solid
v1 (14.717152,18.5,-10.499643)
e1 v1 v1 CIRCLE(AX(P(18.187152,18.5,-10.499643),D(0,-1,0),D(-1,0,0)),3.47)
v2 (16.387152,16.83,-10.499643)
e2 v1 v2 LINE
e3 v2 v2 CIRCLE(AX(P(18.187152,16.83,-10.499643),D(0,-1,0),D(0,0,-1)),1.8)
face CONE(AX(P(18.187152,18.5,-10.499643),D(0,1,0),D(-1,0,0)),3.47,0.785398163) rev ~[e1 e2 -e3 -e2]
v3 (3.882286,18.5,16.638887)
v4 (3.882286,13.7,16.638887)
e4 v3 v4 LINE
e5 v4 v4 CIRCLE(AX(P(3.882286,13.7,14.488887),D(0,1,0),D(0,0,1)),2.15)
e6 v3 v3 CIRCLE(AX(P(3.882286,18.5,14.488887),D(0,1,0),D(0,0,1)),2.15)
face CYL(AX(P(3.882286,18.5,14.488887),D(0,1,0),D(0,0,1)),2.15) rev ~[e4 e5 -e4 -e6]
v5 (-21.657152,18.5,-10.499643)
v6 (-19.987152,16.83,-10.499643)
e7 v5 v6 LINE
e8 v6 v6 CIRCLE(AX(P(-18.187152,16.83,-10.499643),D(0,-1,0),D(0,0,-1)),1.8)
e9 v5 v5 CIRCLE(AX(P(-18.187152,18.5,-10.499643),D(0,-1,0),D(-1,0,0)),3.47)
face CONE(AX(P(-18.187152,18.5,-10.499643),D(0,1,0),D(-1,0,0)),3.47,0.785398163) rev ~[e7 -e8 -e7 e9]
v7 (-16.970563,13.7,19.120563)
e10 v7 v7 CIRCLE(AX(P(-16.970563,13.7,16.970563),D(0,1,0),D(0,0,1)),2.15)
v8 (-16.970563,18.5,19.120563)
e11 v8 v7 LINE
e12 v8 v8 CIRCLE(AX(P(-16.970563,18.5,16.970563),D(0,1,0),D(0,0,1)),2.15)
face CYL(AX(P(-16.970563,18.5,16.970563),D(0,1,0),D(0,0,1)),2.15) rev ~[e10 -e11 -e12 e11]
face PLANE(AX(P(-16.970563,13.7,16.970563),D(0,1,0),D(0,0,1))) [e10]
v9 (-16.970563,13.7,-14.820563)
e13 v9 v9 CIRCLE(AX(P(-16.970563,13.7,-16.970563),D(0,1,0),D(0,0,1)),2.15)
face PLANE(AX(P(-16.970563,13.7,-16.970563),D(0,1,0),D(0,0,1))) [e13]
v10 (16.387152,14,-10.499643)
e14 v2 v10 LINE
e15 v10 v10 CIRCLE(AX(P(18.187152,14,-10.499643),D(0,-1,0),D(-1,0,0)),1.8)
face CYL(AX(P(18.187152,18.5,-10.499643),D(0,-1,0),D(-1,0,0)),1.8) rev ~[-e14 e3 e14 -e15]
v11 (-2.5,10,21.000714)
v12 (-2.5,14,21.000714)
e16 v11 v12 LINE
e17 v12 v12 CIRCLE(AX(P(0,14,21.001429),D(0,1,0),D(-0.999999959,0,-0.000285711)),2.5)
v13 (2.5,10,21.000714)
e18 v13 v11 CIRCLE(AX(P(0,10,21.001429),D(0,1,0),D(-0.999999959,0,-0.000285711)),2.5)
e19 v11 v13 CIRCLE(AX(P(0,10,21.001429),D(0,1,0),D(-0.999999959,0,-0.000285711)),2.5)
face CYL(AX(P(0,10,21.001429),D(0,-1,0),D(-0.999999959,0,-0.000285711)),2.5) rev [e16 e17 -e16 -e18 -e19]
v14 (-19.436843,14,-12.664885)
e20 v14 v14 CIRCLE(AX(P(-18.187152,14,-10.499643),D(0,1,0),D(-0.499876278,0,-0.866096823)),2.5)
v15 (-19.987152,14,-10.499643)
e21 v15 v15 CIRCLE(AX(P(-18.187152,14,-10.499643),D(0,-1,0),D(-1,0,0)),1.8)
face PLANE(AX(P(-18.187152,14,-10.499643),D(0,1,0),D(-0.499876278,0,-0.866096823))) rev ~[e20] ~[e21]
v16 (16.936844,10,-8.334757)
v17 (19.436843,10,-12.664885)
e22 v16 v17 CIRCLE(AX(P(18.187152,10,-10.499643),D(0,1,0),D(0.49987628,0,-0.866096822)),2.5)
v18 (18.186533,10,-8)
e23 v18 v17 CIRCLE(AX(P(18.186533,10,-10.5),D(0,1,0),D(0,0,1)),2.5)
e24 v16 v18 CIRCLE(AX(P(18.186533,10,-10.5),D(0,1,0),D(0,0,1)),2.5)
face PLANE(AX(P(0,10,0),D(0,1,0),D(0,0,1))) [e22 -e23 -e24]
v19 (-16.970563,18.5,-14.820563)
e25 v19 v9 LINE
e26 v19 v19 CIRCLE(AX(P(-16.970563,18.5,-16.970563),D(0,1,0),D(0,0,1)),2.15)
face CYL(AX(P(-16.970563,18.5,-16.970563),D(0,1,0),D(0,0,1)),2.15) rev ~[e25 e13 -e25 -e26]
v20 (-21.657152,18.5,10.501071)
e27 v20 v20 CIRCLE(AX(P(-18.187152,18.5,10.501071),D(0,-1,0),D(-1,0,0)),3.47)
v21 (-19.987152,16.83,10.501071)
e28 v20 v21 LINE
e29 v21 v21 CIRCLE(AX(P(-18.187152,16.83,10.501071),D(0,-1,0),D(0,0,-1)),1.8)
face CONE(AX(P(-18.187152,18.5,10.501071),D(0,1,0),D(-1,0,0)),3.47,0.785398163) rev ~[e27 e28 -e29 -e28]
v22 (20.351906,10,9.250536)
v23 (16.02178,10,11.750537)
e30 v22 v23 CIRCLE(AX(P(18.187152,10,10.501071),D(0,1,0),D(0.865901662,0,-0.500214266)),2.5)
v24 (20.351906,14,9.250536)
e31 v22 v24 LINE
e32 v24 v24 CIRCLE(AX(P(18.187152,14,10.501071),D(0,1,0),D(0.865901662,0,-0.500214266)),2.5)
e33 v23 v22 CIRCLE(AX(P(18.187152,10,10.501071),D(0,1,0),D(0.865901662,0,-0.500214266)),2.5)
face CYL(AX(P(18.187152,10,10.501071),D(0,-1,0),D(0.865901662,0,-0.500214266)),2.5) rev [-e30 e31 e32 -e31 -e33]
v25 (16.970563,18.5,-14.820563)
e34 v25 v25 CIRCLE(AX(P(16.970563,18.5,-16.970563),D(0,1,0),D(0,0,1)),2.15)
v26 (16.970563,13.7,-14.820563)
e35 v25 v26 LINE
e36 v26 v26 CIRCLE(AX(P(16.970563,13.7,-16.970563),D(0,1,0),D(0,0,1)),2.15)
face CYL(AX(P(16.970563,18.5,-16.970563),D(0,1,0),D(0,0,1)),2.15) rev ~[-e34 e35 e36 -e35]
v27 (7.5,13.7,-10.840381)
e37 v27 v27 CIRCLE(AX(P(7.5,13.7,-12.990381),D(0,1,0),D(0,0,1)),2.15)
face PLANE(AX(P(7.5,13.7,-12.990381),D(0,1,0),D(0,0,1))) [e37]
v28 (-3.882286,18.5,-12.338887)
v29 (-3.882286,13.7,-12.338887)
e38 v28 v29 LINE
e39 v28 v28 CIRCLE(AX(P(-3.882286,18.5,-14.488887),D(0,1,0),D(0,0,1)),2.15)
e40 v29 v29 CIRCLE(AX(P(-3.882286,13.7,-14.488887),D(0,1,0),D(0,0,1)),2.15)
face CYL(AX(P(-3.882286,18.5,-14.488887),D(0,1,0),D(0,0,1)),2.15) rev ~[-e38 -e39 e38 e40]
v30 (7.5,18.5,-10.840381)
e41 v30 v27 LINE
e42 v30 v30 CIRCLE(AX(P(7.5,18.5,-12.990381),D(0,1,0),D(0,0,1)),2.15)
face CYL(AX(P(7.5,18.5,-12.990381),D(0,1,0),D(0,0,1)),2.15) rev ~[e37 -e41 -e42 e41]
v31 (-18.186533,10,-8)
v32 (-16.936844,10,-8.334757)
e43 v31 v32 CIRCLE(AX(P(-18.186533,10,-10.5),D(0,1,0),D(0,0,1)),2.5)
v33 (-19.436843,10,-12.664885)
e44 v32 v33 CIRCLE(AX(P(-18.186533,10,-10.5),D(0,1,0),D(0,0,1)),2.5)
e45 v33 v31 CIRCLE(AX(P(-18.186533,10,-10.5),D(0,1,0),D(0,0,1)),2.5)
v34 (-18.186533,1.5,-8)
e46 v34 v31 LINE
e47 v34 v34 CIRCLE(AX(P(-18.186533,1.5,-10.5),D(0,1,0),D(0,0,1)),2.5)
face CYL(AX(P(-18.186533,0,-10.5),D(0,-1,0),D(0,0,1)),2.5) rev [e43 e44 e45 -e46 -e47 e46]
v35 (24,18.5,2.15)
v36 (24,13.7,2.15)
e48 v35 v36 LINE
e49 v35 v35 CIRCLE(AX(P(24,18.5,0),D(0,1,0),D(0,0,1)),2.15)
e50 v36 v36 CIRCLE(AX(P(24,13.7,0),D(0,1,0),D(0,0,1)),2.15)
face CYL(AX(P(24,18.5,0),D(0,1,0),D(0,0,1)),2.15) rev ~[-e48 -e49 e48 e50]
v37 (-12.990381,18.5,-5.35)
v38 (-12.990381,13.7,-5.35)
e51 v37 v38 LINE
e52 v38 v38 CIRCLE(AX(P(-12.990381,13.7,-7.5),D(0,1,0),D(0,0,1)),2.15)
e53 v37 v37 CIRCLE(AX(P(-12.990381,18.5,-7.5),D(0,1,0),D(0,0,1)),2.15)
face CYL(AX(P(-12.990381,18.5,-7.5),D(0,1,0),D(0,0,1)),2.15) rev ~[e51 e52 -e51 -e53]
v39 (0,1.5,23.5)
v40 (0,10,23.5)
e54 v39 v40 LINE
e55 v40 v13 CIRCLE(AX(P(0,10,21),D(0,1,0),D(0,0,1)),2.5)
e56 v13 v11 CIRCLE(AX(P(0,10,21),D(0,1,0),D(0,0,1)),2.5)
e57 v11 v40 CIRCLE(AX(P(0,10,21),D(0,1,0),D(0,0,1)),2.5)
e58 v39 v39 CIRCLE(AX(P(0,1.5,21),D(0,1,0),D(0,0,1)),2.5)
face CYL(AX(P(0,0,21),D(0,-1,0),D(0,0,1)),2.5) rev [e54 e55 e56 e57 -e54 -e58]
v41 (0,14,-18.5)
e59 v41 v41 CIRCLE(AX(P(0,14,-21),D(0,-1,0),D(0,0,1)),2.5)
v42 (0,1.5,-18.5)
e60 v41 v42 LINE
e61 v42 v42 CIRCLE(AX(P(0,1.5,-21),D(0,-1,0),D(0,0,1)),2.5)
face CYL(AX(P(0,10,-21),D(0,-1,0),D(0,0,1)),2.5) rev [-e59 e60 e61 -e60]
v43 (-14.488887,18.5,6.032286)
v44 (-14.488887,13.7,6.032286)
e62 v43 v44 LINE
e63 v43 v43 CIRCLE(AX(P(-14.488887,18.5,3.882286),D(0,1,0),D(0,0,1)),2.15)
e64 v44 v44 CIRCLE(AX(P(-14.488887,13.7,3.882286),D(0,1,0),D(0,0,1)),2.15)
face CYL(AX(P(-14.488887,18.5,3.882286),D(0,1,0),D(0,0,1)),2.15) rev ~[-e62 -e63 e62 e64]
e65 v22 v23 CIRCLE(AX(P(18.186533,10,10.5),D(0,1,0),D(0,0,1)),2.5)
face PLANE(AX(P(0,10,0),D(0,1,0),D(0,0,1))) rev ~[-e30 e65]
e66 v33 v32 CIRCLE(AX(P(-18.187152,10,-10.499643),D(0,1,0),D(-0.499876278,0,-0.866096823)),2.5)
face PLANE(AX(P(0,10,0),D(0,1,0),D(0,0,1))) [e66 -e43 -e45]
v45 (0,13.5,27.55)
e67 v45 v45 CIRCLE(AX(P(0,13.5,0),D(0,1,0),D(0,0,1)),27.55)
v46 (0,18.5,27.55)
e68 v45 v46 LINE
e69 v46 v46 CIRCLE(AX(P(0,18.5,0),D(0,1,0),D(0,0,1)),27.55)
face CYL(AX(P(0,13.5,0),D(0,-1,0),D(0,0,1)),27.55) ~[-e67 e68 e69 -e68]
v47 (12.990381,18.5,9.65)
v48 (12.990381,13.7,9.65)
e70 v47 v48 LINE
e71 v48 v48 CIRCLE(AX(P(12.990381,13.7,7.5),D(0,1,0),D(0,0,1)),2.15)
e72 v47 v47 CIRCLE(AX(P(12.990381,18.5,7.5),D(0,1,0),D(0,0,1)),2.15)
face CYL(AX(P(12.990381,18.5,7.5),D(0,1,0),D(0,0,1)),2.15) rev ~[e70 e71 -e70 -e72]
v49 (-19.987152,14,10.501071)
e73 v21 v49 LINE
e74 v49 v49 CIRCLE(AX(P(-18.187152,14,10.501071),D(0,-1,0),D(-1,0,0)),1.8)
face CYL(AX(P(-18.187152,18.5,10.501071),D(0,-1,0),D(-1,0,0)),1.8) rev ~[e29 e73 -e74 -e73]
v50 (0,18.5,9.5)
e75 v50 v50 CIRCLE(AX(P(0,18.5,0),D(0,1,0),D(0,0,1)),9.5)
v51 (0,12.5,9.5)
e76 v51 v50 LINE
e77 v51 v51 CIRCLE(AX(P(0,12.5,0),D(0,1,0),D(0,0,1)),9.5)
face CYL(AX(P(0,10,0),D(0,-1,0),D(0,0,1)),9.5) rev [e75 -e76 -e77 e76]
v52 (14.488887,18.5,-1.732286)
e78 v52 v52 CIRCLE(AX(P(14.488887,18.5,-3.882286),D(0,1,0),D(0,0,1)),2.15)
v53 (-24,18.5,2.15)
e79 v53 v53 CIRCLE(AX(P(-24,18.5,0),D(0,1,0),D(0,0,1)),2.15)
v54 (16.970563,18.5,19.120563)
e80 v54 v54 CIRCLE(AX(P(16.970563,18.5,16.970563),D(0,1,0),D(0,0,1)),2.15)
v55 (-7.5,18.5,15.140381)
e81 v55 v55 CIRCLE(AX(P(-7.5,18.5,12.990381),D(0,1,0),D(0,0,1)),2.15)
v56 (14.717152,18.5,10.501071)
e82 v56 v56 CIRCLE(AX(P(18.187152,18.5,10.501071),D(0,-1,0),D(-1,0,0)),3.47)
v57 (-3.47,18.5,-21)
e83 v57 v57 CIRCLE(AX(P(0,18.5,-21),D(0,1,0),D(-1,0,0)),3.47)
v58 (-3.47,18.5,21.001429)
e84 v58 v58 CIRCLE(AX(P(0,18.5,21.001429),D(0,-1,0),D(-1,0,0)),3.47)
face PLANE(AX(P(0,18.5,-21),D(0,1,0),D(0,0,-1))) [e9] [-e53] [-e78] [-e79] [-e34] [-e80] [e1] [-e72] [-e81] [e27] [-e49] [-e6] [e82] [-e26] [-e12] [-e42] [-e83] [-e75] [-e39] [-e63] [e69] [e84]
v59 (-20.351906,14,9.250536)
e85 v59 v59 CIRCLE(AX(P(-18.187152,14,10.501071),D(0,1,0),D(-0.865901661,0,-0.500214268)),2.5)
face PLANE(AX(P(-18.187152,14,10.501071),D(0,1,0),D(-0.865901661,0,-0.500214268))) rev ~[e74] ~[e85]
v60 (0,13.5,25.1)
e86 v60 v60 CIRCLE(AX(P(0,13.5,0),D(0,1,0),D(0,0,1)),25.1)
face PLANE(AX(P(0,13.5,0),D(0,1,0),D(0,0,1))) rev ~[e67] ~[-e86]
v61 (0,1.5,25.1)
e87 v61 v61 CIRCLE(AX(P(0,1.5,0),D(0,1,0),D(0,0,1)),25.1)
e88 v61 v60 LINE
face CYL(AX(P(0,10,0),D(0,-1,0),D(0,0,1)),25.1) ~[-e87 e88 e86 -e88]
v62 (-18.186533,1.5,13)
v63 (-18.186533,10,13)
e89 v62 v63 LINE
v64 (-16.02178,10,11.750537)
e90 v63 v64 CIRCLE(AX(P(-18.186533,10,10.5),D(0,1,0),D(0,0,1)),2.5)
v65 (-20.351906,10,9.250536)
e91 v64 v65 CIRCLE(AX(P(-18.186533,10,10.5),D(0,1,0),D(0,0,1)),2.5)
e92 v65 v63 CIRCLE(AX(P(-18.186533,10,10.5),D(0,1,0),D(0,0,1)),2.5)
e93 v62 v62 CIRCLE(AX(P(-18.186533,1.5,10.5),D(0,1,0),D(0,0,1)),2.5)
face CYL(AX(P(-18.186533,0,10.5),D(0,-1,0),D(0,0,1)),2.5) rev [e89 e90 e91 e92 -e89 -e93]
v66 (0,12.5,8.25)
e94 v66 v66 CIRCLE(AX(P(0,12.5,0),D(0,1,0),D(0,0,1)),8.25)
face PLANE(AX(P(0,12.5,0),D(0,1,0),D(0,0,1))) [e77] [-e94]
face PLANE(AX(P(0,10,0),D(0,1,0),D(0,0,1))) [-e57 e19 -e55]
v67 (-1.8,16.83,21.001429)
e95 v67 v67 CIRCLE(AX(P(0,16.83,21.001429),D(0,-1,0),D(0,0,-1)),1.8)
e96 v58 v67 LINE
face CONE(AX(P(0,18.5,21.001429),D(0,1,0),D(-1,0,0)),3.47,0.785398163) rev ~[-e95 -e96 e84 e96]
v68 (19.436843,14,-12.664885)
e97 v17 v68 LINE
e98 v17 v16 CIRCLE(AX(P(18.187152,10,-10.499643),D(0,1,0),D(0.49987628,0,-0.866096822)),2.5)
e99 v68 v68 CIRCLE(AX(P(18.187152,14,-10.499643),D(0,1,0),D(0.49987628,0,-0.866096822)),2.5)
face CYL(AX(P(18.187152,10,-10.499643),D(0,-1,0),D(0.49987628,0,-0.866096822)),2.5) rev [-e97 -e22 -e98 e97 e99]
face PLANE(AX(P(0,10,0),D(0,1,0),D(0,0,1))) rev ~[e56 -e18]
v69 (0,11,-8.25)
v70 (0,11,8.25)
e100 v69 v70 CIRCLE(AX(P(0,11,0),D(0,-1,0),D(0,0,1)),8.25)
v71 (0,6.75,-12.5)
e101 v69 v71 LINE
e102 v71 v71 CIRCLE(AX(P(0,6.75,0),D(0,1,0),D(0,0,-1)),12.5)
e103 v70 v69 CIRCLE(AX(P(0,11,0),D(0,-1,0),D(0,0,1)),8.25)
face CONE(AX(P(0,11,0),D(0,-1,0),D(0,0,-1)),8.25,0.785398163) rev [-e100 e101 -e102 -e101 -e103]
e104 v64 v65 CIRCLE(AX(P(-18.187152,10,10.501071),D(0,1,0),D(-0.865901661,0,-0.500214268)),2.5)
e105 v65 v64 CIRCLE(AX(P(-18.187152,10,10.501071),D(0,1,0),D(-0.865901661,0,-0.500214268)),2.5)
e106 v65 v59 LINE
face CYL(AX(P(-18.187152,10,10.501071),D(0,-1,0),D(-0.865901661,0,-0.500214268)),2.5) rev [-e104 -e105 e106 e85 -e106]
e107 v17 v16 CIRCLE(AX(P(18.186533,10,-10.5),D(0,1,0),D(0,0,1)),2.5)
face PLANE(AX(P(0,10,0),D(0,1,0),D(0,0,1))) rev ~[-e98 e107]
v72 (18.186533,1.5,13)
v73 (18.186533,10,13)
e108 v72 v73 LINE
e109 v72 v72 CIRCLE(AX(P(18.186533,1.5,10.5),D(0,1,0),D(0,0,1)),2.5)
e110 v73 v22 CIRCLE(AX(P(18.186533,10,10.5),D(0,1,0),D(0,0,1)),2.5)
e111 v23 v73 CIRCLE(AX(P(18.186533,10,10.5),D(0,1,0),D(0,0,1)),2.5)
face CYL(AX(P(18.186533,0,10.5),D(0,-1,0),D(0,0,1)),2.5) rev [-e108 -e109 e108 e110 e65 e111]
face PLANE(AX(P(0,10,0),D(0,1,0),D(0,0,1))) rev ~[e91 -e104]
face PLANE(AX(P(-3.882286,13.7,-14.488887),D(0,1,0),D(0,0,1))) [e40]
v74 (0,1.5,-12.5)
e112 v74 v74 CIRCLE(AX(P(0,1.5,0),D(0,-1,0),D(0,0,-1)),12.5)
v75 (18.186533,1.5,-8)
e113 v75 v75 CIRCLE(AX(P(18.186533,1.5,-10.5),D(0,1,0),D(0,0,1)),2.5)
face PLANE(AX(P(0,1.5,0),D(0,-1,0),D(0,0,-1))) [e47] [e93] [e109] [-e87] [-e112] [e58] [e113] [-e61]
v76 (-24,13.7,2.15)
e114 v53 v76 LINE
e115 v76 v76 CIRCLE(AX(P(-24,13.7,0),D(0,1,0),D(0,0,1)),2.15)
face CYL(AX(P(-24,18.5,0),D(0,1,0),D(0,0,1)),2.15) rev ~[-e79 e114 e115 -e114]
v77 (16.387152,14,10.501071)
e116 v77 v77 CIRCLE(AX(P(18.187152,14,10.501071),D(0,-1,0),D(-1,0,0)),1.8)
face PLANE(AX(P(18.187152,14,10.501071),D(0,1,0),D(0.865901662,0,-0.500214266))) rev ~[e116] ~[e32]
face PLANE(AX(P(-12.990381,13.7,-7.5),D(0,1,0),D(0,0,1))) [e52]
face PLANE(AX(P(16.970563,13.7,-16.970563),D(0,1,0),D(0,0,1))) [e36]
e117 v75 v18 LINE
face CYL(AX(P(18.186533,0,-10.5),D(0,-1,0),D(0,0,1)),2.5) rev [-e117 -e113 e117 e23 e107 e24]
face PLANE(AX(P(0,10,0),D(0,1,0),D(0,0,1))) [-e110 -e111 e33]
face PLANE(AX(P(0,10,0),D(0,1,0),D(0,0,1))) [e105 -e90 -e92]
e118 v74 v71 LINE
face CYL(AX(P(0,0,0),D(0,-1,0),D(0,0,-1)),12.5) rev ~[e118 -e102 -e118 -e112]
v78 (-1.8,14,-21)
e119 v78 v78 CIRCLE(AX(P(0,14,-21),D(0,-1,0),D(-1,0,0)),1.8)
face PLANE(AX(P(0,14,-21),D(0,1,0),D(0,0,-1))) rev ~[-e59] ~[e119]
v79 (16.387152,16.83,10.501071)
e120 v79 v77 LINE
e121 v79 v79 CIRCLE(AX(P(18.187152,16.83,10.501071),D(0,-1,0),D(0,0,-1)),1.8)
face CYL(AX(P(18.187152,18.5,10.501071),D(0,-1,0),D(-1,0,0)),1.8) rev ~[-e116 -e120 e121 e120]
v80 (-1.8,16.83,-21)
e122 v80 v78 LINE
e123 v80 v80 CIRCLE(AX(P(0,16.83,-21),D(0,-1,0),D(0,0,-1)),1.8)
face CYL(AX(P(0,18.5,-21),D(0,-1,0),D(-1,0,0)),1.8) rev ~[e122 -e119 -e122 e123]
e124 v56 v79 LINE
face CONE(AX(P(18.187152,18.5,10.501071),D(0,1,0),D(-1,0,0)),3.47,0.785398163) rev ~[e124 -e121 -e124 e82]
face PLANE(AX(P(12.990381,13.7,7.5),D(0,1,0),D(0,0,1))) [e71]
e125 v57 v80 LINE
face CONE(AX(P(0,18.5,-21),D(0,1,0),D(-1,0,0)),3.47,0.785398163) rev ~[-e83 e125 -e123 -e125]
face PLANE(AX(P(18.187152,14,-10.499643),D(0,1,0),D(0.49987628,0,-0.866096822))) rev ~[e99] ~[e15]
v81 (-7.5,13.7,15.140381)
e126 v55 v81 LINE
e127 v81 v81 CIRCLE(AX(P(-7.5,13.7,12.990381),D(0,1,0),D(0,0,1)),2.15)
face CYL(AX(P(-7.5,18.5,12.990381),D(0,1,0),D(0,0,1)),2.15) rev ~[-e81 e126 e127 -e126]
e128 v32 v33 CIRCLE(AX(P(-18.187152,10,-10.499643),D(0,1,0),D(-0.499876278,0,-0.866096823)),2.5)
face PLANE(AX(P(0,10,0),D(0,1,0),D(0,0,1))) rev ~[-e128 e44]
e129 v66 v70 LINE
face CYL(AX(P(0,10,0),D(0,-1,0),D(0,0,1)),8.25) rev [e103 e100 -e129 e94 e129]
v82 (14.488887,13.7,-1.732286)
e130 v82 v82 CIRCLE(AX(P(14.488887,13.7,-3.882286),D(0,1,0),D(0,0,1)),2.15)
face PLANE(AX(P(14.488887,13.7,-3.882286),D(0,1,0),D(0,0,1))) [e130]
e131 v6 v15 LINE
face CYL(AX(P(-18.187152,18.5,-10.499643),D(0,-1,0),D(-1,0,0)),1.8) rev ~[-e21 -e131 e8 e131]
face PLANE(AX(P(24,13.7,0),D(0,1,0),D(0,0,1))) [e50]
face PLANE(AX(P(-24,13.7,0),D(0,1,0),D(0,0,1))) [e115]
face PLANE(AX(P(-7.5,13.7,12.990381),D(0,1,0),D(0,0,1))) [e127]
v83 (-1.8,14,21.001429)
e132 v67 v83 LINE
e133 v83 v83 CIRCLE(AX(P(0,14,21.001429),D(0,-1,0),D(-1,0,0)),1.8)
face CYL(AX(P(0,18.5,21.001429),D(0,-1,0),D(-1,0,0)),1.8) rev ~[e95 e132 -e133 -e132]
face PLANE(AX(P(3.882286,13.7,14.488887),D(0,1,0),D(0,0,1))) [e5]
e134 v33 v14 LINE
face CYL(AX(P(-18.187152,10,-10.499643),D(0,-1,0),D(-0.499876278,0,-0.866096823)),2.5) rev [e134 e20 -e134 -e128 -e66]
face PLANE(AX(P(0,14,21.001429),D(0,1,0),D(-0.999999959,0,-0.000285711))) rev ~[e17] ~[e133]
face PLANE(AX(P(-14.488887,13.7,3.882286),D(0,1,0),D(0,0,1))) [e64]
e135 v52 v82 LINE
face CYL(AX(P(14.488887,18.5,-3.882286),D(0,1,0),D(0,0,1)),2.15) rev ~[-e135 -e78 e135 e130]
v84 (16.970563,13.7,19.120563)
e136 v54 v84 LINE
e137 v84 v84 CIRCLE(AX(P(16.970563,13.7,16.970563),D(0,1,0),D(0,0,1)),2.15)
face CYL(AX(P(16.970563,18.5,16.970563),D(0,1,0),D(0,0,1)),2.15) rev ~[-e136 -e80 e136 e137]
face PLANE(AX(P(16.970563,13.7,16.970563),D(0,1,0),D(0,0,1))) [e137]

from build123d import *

# Parameters (mm, degrees)
SKETCH1_R                                            = 25.1
SKETCH1_R_2                                          = 2.5
SKETCH1_R_3                                          = 8.25
BOSS_EXTRUDE1_DEPTH                                  = 10
SKETCH2_R                                            = 15.5
SKETCH2_R_2                                          = 9.5
BOSS_EXTRUDE2_DEPTH                                  = 8.5
SKETCH4_R                                            = 9.5
SKETCH4_R_2                                          = 8.25
BOSS_EXTRUDE3_DEPTH                                  = 2.5
SKETCH3_R                                            = 12.5
CUT_EXTRUDE1_DEPTH                                   = 11
CHAMFER1_SIZE                                        = 3
SKETCH5_R                                            = 25.1
SKETCH5_R_2                                          = 2.5
SKETCH5_R_3                                          = 15.5
BOSS_EXTRUDE4_DEPTH                                  = 8.5
BOSS_EXTRUDE5_START                                  = -5
SKETCH6_R                                            = 27.55
SKETCH6_R_2                                          = 25.1
BOSS_EXTRUDE5_DEPTH                                  = 5
SKETCH11_R                                           = 2.15
CUT_EXTRUDE3_DEPTH                                   = 4.8
SKETCH12_R                                           = 25.1
SKETCH12_R_2                                         = 2.5
SKETCH12_R_3                                         = 12.5
CUT_EXTRUDE4_DEPTH                                   = 1.5
BOSS_EXTRUDE8_START                                  = -4.5
SKETCH14_R                                           = 2.5
SKETCH14_R_2                                         = 1.5
BOSS_EXTRUDE8_DEPTH                                  = 4.5
CSK_FOR_M3_SOCKET_COUNTERSUNK_HEAD_SCREW_D           = 3.6
CSK_FOR_M3_SOCKET_COUNTERSUNK_HEAD_SCREW_CSINK_D     = 6.94
CSK_FOR_M3_SOCKET_COUNTERSUNK_HEAD_SCREW_CSINK_ANGLE = 90


with BuildPart() as part:
    # Sketch1 → Boss-Extrude1 (new body)
    with BuildSketch(Plane(origin=(0, 0, 0), x_dir=(1, 0, 0), z_dir=(0, 1, 0))):
        with Locations(Location((0, 0, 0), (0, 0, 270))):
            Circle(SKETCH1_R)
        with Locations(Location((0, 21, 0), (0, 0, 270))):
            Circle(SKETCH1_R_2, mode=Mode.SUBTRACT)
        with Locations(Location((18.186533479, 10.5, 0), (0, 0, 270))):
            Circle(SKETCH1_R_2, mode=Mode.SUBTRACT)
        with Locations(Location((18.186533479, -10.5, 0), (0, 0, 270))):
            Circle(SKETCH1_R_2, mode=Mode.SUBTRACT)
        with Locations(Location((0, -21, 0), (0, 0, 270))):
            Circle(SKETCH1_R_2, mode=Mode.SUBTRACT)
        with Locations(Location((-18.186533479, -10.5, 0), (0, 0, 270))):
            Circle(SKETCH1_R_2, mode=Mode.SUBTRACT)
        with Locations(Location((-18.186533479, 10.5, 0), (0, 0, 270))):
            Circle(SKETCH1_R_2, mode=Mode.SUBTRACT)
        with Locations(Location((0, 0, 0), (0, 0, 270))):
            Circle(SKETCH1_R_3, mode=Mode.SUBTRACT)
    extrude(amount=BOSS_EXTRUDE1_DEPTH)

    # Sketch2 → Boss-Extrude2 (add)
    with BuildSketch(Plane(origin=(0, 10, 0), x_dir=(1, 0, 0), z_dir=(0, 1, 0))):
        with Locations(Location((0, 0, 0), (0, 0, 270))):
            Circle(SKETCH2_R)
        with Locations(Location((0, 0, 0), (0, 0, 270))):
            Circle(SKETCH2_R_2, mode=Mode.SUBTRACT)
    extrude(amount=BOSS_EXTRUDE2_DEPTH)

    # Sketch4 → Boss-Extrude3 (add)
    with BuildSketch(Plane(origin=(0, 10, 0), x_dir=(1, 0, 0), z_dir=(0, 1, 0))):
        with Locations(Location((0, 0, 0), (0, 0, 270))):
            Circle(SKETCH4_R)
        with Locations(Location((0, 0, 0), (0, 0, 270))):
            Circle(SKETCH4_R_2, mode=Mode.SUBTRACT)
    extrude(amount=BOSS_EXTRUDE3_DEPTH)

    # Sketch3 → Cut-Extrude1 (cut)
    with BuildSketch(Plane.XZ):
        with Locations(Location((0, 0, 0), (0, 0, 270))):
            Circle(SKETCH3_R)
    extrude(amount=-CUT_EXTRUDE1_DEPTH, mode=Mode.SUBTRACT)

    # Chamfer1
    chamfer1_edges = [part.edges().sort_by_distance(p)[0] for p in [
        (0, 11, 12.5),
    ]]
    chamfer(chamfer1_edges, length=CHAMFER1_SIZE)

    # Sketch5 → Boss-Extrude4 (add)
    with BuildSketch(Plane(origin=(0, 10, 0), x_dir=(1, 0, 0), z_dir=(0, 1, 0))):
        with Locations(Location((0, 0, 0), (0, 0, 270))):
            Circle(SKETCH5_R)
        with Locations(Location((0, 21, 0), (0, 0, 270))):
            Circle(SKETCH5_R_2, mode=Mode.SUBTRACT)
        with Locations(Location((18.187152059, 10.499642863, 0), (0, 0, 60.008184899))):
            Circle(SKETCH5_R_2, mode=Mode.SUBTRACT)
        with Locations(Location((18.187152059, -10.50107141, 0), (0, 0, 30.014176717))):
            Circle(SKETCH5_R_2, mode=Mode.SUBTRACT)
        with Locations(Location((0, -21.001428547, 0), (0, 0, 179.983629985))):
            Circle(SKETCH5_R_2, mode=Mode.SUBTRACT)
        with Locations(Location((-18.187152059, -10.50107141, 0), (0, 0, 149.985823141))):
            Circle(SKETCH5_R_2, mode=Mode.SUBTRACT)
        with Locations(Location((-18.187152059, 10.499642863, 0), (0, 0, 119.991814957))):
            Circle(SKETCH5_R_2, mode=Mode.SUBTRACT)
        Circle(SKETCH5_R_3, mode=Mode.SUBTRACT)
    extrude(amount=BOSS_EXTRUDE4_DEPTH)

    # Sketch6 → Boss-Extrude5 (add)
    with BuildSketch(Plane(origin=(0, 18.5, 0), x_dir=(1, 0, 0), z_dir=(0, 1, 0)).offset(BOSS_EXTRUDE5_START)):
        with Locations(Location((0, 0, 0), (0, 0, 270))):
            Circle(SKETCH6_R)
        with Locations(Location((0, 0, 0), (0, 0, 270))):
            Circle(SKETCH6_R_2, mode=Mode.SUBTRACT)
    extrude(amount=BOSS_EXTRUDE5_DEPTH)

    # Sketch11 → Cut-Extrude3 (cut)
    with BuildSketch(Plane(origin=(0, 18.5, 0), x_dir=(1, 0, 0), z_dir=(0, 1, 0))):
        with Locations(Location((7.5, 12.990381057, 0), (0, 0, 270))):
            Circle(SKETCH11_R)
        with Locations(Location((14.488887394, 3.882285677, 0), (0, 0, 270))):
            Circle(SKETCH11_R)
        with Locations(Location((12.990381057, -7.5, 0), (0, 0, 270))):
            Circle(SKETCH11_R)
        with Locations(Location((3.882285677, -14.488887394, 0), (0, 0, 270))):
            Circle(SKETCH11_R)
        with Locations(Location((-7.5, -12.990381057, 0), (0, 0, 270))):
            Circle(SKETCH11_R)
        with Locations(Location((-14.488887394, -3.882285677, 0), (0, 0, 270))):
            Circle(SKETCH11_R)
        with Locations(Location((-24, 0, 0), (0, 0, 270))):
            Circle(SKETCH11_R)
        with Locations(Location((-16.970562748, 16.970562748, 0), (0, 0, 270))):
            Circle(SKETCH11_R)
        with Locations(Location((16.970562748, 16.970562748, 0), (0, 0, 270))):
            Circle(SKETCH11_R)
        with Locations(Location((24, 0, 0), (0, 0, 270))):
            Circle(SKETCH11_R)
        with Locations(Location((16.970562748, -16.970562748, 0), (0, 0, 270))):
            Circle(SKETCH11_R)
        with Locations(Location((-12.990381057, 7.5, 0), (0, 0, 270))):
            Circle(SKETCH11_R)
        with Locations(Location((-3.882285677, 14.488887394, 0), (0, 0, 270))):
            Circle(SKETCH11_R)
        with Locations(Location((-16.970562748, -16.970562748, 0), (0, 0, 270))):
            Circle(SKETCH11_R)
    extrude(amount=-CUT_EXTRUDE3_DEPTH, mode=Mode.SUBTRACT)

    # Sketch12 → Cut-Extrude4 (cut)
    with BuildSketch(Plane.XZ):
        with Locations(Location((0, 0, 0), (0, 0, 270))):
            Circle(SKETCH12_R)
        with Locations(Location((18.186533479, 10.5, 0), (0, 0, 270))):
            Circle(SKETCH12_R_2, mode=Mode.SUBTRACT)
        with Locations(Location((18.186533479, -10.5, 0), (0, 0, 270))):
            Circle(SKETCH12_R_2, mode=Mode.SUBTRACT)
        with Locations(Location((0, -21, 0), (0, 0, 270))):
            Circle(SKETCH12_R_2, mode=Mode.SUBTRACT)
        with Locations(Location((-18.186533479, -10.5, 0), (0, 0, 270))):
            Circle(SKETCH12_R_2, mode=Mode.SUBTRACT)
        with Locations(Location((-18.186533479, 10.5, 0), (0, 0, 270))):
            Circle(SKETCH12_R_2, mode=Mode.SUBTRACT)
        with Locations(Location((0, 21, 0), (0, 0, 270))):
            Circle(SKETCH12_R_2, mode=Mode.SUBTRACT)
        with Locations(Location((0, 0, 0), (0, 0, 270))):
            Circle(SKETCH12_R_3, mode=Mode.SUBTRACT)
    extrude(amount=-CUT_EXTRUDE4_DEPTH, mode=Mode.SUBTRACT)

    # Sketch14 → Boss-Extrude8 (add)
    # profile 1 of 6: a face of its own
    with BuildSketch(Plane(origin=(0, 18.5, 0), x_dir=(1, 0, 0), z_dir=(0, 1, 0)).offset(BOSS_EXTRUDE8_START)):
        with Locations(Location((0, 21, 0), (0, 0, 90))):
            Circle(SKETCH14_R)
        with Locations(Location((0, 21, 0), (0, 0, 270))):
            Circle(SKETCH14_R_2, mode=Mode.SUBTRACT)
    # profile 2 of 6: a face of its own
    with BuildSketch(Plane(origin=(0, 18.5, 0), x_dir=(1, 0, 0), z_dir=(0, 1, 0)).offset(BOSS_EXTRUDE8_START)):
        with Locations(Location((18.187152059, 10.499642863, 0), (0, 0, 60.008184899))):
            Circle(SKETCH14_R)
        with Locations(Location((18.187152059, 10.499642863, 0), (0, 0, 270))):
            Circle(SKETCH14_R_2, mode=Mode.SUBTRACT)
    # profile 3 of 6: a face of its own
    with BuildSketch(Plane(origin=(0, 18.5, 0), x_dir=(1, 0, 0), z_dir=(0, 1, 0)).offset(BOSS_EXTRUDE8_START)):
        with Locations(Location((18.187152059, -10.50107141, 0), (0, 0, 30.014176717))):
            Circle(SKETCH14_R)
        with Locations(Location((18.187152059, -10.50107141, 0), (0, 0, 270))):
            Circle(SKETCH14_R_2, mode=Mode.SUBTRACT)
    # profile 4 of 6: a face of its own
    with BuildSketch(Plane(origin=(0, 18.5, 0), x_dir=(1, 0, 0), z_dir=(0, 1, 0)).offset(BOSS_EXTRUDE8_START)):
        with Locations(Location((0, -21.001428547, 0), (0, 0, 179.983629985))):
            Circle(SKETCH14_R)
        with Locations(Location((0, -21.001428547, 0), (0, 0, 270))):
            Circle(SKETCH14_R_2, mode=Mode.SUBTRACT)
    # profile 5 of 6: a face of its own
    with BuildSketch(Plane(origin=(0, 18.5, 0), x_dir=(1, 0, 0), z_dir=(0, 1, 0)).offset(BOSS_EXTRUDE8_START)):
        with Locations(Location((-18.187152059, -10.50107141, 0), (0, 0, 149.985823141))):
            Circle(SKETCH14_R)
        with Locations(Location((-18.187152059, -10.50107141, 0), (0, 0, 270))):
            Circle(SKETCH14_R_2, mode=Mode.SUBTRACT)
    # profile 6 of 6: a face of its own
    with BuildSketch(Plane(origin=(0, 18.5, 0), x_dir=(1, 0, 0), z_dir=(0, 1, 0)).offset(BOSS_EXTRUDE8_START)):
        with Locations(Location((-18.187152059, 10.499642863, 0), (0, 0, 119.991814957))):
            Circle(SKETCH14_R)
        with Locations(Location((-18.187152059, 10.499642863, 0), (0, 0, 270))):
            Circle(SKETCH14_R_2, mode=Mode.SUBTRACT)
    extrude(amount=BOSS_EXTRUDE8_DEPTH)

    # CSK for M3 socket countersunk head screw1 (through all)
    with Locations(Plane(origin=(0, 18.5, 0), x_dir=(1, 0, 0), z_dir=(0, 1, 0))):
        with Locations((0, 21), (18.187152059, 10.499642863), (18.187152059, -10.50107141), (0, -21.001428547), (-18.187152059, -10.50107141), (-18.187152059, 10.499642863)):
            CounterSinkHole(CSK_FOR_M3_SOCKET_COUNTERSUNK_HEAD_SCREW_D / 2, CSK_FOR_M3_SOCKET_COUNTERSUNK_HEAD_SCREW_CSINK_D / 2, counter_sink_angle=CSK_FOR_M3_SOCKET_COUNTERSUNK_HEAD_SCREW_CSINK_ANGLE)

    # Sketch17 → Revolve1 (revolve)
    with BuildSketch(Plane.XY, mode=Mode.PRIVATE) as revolve1_sk:
        Polygon((-8.25, 11), (-12.5, 6.75), (-12.5, 8), (-9.5, 11), align=None)
    revolve(revolve1_sk.sketch.rotate(Axis((0, 0, 0), (0, 1, 0)), 270), axis=Axis((0, 0, 0), (0, 1, 0)))


solid = part.part
